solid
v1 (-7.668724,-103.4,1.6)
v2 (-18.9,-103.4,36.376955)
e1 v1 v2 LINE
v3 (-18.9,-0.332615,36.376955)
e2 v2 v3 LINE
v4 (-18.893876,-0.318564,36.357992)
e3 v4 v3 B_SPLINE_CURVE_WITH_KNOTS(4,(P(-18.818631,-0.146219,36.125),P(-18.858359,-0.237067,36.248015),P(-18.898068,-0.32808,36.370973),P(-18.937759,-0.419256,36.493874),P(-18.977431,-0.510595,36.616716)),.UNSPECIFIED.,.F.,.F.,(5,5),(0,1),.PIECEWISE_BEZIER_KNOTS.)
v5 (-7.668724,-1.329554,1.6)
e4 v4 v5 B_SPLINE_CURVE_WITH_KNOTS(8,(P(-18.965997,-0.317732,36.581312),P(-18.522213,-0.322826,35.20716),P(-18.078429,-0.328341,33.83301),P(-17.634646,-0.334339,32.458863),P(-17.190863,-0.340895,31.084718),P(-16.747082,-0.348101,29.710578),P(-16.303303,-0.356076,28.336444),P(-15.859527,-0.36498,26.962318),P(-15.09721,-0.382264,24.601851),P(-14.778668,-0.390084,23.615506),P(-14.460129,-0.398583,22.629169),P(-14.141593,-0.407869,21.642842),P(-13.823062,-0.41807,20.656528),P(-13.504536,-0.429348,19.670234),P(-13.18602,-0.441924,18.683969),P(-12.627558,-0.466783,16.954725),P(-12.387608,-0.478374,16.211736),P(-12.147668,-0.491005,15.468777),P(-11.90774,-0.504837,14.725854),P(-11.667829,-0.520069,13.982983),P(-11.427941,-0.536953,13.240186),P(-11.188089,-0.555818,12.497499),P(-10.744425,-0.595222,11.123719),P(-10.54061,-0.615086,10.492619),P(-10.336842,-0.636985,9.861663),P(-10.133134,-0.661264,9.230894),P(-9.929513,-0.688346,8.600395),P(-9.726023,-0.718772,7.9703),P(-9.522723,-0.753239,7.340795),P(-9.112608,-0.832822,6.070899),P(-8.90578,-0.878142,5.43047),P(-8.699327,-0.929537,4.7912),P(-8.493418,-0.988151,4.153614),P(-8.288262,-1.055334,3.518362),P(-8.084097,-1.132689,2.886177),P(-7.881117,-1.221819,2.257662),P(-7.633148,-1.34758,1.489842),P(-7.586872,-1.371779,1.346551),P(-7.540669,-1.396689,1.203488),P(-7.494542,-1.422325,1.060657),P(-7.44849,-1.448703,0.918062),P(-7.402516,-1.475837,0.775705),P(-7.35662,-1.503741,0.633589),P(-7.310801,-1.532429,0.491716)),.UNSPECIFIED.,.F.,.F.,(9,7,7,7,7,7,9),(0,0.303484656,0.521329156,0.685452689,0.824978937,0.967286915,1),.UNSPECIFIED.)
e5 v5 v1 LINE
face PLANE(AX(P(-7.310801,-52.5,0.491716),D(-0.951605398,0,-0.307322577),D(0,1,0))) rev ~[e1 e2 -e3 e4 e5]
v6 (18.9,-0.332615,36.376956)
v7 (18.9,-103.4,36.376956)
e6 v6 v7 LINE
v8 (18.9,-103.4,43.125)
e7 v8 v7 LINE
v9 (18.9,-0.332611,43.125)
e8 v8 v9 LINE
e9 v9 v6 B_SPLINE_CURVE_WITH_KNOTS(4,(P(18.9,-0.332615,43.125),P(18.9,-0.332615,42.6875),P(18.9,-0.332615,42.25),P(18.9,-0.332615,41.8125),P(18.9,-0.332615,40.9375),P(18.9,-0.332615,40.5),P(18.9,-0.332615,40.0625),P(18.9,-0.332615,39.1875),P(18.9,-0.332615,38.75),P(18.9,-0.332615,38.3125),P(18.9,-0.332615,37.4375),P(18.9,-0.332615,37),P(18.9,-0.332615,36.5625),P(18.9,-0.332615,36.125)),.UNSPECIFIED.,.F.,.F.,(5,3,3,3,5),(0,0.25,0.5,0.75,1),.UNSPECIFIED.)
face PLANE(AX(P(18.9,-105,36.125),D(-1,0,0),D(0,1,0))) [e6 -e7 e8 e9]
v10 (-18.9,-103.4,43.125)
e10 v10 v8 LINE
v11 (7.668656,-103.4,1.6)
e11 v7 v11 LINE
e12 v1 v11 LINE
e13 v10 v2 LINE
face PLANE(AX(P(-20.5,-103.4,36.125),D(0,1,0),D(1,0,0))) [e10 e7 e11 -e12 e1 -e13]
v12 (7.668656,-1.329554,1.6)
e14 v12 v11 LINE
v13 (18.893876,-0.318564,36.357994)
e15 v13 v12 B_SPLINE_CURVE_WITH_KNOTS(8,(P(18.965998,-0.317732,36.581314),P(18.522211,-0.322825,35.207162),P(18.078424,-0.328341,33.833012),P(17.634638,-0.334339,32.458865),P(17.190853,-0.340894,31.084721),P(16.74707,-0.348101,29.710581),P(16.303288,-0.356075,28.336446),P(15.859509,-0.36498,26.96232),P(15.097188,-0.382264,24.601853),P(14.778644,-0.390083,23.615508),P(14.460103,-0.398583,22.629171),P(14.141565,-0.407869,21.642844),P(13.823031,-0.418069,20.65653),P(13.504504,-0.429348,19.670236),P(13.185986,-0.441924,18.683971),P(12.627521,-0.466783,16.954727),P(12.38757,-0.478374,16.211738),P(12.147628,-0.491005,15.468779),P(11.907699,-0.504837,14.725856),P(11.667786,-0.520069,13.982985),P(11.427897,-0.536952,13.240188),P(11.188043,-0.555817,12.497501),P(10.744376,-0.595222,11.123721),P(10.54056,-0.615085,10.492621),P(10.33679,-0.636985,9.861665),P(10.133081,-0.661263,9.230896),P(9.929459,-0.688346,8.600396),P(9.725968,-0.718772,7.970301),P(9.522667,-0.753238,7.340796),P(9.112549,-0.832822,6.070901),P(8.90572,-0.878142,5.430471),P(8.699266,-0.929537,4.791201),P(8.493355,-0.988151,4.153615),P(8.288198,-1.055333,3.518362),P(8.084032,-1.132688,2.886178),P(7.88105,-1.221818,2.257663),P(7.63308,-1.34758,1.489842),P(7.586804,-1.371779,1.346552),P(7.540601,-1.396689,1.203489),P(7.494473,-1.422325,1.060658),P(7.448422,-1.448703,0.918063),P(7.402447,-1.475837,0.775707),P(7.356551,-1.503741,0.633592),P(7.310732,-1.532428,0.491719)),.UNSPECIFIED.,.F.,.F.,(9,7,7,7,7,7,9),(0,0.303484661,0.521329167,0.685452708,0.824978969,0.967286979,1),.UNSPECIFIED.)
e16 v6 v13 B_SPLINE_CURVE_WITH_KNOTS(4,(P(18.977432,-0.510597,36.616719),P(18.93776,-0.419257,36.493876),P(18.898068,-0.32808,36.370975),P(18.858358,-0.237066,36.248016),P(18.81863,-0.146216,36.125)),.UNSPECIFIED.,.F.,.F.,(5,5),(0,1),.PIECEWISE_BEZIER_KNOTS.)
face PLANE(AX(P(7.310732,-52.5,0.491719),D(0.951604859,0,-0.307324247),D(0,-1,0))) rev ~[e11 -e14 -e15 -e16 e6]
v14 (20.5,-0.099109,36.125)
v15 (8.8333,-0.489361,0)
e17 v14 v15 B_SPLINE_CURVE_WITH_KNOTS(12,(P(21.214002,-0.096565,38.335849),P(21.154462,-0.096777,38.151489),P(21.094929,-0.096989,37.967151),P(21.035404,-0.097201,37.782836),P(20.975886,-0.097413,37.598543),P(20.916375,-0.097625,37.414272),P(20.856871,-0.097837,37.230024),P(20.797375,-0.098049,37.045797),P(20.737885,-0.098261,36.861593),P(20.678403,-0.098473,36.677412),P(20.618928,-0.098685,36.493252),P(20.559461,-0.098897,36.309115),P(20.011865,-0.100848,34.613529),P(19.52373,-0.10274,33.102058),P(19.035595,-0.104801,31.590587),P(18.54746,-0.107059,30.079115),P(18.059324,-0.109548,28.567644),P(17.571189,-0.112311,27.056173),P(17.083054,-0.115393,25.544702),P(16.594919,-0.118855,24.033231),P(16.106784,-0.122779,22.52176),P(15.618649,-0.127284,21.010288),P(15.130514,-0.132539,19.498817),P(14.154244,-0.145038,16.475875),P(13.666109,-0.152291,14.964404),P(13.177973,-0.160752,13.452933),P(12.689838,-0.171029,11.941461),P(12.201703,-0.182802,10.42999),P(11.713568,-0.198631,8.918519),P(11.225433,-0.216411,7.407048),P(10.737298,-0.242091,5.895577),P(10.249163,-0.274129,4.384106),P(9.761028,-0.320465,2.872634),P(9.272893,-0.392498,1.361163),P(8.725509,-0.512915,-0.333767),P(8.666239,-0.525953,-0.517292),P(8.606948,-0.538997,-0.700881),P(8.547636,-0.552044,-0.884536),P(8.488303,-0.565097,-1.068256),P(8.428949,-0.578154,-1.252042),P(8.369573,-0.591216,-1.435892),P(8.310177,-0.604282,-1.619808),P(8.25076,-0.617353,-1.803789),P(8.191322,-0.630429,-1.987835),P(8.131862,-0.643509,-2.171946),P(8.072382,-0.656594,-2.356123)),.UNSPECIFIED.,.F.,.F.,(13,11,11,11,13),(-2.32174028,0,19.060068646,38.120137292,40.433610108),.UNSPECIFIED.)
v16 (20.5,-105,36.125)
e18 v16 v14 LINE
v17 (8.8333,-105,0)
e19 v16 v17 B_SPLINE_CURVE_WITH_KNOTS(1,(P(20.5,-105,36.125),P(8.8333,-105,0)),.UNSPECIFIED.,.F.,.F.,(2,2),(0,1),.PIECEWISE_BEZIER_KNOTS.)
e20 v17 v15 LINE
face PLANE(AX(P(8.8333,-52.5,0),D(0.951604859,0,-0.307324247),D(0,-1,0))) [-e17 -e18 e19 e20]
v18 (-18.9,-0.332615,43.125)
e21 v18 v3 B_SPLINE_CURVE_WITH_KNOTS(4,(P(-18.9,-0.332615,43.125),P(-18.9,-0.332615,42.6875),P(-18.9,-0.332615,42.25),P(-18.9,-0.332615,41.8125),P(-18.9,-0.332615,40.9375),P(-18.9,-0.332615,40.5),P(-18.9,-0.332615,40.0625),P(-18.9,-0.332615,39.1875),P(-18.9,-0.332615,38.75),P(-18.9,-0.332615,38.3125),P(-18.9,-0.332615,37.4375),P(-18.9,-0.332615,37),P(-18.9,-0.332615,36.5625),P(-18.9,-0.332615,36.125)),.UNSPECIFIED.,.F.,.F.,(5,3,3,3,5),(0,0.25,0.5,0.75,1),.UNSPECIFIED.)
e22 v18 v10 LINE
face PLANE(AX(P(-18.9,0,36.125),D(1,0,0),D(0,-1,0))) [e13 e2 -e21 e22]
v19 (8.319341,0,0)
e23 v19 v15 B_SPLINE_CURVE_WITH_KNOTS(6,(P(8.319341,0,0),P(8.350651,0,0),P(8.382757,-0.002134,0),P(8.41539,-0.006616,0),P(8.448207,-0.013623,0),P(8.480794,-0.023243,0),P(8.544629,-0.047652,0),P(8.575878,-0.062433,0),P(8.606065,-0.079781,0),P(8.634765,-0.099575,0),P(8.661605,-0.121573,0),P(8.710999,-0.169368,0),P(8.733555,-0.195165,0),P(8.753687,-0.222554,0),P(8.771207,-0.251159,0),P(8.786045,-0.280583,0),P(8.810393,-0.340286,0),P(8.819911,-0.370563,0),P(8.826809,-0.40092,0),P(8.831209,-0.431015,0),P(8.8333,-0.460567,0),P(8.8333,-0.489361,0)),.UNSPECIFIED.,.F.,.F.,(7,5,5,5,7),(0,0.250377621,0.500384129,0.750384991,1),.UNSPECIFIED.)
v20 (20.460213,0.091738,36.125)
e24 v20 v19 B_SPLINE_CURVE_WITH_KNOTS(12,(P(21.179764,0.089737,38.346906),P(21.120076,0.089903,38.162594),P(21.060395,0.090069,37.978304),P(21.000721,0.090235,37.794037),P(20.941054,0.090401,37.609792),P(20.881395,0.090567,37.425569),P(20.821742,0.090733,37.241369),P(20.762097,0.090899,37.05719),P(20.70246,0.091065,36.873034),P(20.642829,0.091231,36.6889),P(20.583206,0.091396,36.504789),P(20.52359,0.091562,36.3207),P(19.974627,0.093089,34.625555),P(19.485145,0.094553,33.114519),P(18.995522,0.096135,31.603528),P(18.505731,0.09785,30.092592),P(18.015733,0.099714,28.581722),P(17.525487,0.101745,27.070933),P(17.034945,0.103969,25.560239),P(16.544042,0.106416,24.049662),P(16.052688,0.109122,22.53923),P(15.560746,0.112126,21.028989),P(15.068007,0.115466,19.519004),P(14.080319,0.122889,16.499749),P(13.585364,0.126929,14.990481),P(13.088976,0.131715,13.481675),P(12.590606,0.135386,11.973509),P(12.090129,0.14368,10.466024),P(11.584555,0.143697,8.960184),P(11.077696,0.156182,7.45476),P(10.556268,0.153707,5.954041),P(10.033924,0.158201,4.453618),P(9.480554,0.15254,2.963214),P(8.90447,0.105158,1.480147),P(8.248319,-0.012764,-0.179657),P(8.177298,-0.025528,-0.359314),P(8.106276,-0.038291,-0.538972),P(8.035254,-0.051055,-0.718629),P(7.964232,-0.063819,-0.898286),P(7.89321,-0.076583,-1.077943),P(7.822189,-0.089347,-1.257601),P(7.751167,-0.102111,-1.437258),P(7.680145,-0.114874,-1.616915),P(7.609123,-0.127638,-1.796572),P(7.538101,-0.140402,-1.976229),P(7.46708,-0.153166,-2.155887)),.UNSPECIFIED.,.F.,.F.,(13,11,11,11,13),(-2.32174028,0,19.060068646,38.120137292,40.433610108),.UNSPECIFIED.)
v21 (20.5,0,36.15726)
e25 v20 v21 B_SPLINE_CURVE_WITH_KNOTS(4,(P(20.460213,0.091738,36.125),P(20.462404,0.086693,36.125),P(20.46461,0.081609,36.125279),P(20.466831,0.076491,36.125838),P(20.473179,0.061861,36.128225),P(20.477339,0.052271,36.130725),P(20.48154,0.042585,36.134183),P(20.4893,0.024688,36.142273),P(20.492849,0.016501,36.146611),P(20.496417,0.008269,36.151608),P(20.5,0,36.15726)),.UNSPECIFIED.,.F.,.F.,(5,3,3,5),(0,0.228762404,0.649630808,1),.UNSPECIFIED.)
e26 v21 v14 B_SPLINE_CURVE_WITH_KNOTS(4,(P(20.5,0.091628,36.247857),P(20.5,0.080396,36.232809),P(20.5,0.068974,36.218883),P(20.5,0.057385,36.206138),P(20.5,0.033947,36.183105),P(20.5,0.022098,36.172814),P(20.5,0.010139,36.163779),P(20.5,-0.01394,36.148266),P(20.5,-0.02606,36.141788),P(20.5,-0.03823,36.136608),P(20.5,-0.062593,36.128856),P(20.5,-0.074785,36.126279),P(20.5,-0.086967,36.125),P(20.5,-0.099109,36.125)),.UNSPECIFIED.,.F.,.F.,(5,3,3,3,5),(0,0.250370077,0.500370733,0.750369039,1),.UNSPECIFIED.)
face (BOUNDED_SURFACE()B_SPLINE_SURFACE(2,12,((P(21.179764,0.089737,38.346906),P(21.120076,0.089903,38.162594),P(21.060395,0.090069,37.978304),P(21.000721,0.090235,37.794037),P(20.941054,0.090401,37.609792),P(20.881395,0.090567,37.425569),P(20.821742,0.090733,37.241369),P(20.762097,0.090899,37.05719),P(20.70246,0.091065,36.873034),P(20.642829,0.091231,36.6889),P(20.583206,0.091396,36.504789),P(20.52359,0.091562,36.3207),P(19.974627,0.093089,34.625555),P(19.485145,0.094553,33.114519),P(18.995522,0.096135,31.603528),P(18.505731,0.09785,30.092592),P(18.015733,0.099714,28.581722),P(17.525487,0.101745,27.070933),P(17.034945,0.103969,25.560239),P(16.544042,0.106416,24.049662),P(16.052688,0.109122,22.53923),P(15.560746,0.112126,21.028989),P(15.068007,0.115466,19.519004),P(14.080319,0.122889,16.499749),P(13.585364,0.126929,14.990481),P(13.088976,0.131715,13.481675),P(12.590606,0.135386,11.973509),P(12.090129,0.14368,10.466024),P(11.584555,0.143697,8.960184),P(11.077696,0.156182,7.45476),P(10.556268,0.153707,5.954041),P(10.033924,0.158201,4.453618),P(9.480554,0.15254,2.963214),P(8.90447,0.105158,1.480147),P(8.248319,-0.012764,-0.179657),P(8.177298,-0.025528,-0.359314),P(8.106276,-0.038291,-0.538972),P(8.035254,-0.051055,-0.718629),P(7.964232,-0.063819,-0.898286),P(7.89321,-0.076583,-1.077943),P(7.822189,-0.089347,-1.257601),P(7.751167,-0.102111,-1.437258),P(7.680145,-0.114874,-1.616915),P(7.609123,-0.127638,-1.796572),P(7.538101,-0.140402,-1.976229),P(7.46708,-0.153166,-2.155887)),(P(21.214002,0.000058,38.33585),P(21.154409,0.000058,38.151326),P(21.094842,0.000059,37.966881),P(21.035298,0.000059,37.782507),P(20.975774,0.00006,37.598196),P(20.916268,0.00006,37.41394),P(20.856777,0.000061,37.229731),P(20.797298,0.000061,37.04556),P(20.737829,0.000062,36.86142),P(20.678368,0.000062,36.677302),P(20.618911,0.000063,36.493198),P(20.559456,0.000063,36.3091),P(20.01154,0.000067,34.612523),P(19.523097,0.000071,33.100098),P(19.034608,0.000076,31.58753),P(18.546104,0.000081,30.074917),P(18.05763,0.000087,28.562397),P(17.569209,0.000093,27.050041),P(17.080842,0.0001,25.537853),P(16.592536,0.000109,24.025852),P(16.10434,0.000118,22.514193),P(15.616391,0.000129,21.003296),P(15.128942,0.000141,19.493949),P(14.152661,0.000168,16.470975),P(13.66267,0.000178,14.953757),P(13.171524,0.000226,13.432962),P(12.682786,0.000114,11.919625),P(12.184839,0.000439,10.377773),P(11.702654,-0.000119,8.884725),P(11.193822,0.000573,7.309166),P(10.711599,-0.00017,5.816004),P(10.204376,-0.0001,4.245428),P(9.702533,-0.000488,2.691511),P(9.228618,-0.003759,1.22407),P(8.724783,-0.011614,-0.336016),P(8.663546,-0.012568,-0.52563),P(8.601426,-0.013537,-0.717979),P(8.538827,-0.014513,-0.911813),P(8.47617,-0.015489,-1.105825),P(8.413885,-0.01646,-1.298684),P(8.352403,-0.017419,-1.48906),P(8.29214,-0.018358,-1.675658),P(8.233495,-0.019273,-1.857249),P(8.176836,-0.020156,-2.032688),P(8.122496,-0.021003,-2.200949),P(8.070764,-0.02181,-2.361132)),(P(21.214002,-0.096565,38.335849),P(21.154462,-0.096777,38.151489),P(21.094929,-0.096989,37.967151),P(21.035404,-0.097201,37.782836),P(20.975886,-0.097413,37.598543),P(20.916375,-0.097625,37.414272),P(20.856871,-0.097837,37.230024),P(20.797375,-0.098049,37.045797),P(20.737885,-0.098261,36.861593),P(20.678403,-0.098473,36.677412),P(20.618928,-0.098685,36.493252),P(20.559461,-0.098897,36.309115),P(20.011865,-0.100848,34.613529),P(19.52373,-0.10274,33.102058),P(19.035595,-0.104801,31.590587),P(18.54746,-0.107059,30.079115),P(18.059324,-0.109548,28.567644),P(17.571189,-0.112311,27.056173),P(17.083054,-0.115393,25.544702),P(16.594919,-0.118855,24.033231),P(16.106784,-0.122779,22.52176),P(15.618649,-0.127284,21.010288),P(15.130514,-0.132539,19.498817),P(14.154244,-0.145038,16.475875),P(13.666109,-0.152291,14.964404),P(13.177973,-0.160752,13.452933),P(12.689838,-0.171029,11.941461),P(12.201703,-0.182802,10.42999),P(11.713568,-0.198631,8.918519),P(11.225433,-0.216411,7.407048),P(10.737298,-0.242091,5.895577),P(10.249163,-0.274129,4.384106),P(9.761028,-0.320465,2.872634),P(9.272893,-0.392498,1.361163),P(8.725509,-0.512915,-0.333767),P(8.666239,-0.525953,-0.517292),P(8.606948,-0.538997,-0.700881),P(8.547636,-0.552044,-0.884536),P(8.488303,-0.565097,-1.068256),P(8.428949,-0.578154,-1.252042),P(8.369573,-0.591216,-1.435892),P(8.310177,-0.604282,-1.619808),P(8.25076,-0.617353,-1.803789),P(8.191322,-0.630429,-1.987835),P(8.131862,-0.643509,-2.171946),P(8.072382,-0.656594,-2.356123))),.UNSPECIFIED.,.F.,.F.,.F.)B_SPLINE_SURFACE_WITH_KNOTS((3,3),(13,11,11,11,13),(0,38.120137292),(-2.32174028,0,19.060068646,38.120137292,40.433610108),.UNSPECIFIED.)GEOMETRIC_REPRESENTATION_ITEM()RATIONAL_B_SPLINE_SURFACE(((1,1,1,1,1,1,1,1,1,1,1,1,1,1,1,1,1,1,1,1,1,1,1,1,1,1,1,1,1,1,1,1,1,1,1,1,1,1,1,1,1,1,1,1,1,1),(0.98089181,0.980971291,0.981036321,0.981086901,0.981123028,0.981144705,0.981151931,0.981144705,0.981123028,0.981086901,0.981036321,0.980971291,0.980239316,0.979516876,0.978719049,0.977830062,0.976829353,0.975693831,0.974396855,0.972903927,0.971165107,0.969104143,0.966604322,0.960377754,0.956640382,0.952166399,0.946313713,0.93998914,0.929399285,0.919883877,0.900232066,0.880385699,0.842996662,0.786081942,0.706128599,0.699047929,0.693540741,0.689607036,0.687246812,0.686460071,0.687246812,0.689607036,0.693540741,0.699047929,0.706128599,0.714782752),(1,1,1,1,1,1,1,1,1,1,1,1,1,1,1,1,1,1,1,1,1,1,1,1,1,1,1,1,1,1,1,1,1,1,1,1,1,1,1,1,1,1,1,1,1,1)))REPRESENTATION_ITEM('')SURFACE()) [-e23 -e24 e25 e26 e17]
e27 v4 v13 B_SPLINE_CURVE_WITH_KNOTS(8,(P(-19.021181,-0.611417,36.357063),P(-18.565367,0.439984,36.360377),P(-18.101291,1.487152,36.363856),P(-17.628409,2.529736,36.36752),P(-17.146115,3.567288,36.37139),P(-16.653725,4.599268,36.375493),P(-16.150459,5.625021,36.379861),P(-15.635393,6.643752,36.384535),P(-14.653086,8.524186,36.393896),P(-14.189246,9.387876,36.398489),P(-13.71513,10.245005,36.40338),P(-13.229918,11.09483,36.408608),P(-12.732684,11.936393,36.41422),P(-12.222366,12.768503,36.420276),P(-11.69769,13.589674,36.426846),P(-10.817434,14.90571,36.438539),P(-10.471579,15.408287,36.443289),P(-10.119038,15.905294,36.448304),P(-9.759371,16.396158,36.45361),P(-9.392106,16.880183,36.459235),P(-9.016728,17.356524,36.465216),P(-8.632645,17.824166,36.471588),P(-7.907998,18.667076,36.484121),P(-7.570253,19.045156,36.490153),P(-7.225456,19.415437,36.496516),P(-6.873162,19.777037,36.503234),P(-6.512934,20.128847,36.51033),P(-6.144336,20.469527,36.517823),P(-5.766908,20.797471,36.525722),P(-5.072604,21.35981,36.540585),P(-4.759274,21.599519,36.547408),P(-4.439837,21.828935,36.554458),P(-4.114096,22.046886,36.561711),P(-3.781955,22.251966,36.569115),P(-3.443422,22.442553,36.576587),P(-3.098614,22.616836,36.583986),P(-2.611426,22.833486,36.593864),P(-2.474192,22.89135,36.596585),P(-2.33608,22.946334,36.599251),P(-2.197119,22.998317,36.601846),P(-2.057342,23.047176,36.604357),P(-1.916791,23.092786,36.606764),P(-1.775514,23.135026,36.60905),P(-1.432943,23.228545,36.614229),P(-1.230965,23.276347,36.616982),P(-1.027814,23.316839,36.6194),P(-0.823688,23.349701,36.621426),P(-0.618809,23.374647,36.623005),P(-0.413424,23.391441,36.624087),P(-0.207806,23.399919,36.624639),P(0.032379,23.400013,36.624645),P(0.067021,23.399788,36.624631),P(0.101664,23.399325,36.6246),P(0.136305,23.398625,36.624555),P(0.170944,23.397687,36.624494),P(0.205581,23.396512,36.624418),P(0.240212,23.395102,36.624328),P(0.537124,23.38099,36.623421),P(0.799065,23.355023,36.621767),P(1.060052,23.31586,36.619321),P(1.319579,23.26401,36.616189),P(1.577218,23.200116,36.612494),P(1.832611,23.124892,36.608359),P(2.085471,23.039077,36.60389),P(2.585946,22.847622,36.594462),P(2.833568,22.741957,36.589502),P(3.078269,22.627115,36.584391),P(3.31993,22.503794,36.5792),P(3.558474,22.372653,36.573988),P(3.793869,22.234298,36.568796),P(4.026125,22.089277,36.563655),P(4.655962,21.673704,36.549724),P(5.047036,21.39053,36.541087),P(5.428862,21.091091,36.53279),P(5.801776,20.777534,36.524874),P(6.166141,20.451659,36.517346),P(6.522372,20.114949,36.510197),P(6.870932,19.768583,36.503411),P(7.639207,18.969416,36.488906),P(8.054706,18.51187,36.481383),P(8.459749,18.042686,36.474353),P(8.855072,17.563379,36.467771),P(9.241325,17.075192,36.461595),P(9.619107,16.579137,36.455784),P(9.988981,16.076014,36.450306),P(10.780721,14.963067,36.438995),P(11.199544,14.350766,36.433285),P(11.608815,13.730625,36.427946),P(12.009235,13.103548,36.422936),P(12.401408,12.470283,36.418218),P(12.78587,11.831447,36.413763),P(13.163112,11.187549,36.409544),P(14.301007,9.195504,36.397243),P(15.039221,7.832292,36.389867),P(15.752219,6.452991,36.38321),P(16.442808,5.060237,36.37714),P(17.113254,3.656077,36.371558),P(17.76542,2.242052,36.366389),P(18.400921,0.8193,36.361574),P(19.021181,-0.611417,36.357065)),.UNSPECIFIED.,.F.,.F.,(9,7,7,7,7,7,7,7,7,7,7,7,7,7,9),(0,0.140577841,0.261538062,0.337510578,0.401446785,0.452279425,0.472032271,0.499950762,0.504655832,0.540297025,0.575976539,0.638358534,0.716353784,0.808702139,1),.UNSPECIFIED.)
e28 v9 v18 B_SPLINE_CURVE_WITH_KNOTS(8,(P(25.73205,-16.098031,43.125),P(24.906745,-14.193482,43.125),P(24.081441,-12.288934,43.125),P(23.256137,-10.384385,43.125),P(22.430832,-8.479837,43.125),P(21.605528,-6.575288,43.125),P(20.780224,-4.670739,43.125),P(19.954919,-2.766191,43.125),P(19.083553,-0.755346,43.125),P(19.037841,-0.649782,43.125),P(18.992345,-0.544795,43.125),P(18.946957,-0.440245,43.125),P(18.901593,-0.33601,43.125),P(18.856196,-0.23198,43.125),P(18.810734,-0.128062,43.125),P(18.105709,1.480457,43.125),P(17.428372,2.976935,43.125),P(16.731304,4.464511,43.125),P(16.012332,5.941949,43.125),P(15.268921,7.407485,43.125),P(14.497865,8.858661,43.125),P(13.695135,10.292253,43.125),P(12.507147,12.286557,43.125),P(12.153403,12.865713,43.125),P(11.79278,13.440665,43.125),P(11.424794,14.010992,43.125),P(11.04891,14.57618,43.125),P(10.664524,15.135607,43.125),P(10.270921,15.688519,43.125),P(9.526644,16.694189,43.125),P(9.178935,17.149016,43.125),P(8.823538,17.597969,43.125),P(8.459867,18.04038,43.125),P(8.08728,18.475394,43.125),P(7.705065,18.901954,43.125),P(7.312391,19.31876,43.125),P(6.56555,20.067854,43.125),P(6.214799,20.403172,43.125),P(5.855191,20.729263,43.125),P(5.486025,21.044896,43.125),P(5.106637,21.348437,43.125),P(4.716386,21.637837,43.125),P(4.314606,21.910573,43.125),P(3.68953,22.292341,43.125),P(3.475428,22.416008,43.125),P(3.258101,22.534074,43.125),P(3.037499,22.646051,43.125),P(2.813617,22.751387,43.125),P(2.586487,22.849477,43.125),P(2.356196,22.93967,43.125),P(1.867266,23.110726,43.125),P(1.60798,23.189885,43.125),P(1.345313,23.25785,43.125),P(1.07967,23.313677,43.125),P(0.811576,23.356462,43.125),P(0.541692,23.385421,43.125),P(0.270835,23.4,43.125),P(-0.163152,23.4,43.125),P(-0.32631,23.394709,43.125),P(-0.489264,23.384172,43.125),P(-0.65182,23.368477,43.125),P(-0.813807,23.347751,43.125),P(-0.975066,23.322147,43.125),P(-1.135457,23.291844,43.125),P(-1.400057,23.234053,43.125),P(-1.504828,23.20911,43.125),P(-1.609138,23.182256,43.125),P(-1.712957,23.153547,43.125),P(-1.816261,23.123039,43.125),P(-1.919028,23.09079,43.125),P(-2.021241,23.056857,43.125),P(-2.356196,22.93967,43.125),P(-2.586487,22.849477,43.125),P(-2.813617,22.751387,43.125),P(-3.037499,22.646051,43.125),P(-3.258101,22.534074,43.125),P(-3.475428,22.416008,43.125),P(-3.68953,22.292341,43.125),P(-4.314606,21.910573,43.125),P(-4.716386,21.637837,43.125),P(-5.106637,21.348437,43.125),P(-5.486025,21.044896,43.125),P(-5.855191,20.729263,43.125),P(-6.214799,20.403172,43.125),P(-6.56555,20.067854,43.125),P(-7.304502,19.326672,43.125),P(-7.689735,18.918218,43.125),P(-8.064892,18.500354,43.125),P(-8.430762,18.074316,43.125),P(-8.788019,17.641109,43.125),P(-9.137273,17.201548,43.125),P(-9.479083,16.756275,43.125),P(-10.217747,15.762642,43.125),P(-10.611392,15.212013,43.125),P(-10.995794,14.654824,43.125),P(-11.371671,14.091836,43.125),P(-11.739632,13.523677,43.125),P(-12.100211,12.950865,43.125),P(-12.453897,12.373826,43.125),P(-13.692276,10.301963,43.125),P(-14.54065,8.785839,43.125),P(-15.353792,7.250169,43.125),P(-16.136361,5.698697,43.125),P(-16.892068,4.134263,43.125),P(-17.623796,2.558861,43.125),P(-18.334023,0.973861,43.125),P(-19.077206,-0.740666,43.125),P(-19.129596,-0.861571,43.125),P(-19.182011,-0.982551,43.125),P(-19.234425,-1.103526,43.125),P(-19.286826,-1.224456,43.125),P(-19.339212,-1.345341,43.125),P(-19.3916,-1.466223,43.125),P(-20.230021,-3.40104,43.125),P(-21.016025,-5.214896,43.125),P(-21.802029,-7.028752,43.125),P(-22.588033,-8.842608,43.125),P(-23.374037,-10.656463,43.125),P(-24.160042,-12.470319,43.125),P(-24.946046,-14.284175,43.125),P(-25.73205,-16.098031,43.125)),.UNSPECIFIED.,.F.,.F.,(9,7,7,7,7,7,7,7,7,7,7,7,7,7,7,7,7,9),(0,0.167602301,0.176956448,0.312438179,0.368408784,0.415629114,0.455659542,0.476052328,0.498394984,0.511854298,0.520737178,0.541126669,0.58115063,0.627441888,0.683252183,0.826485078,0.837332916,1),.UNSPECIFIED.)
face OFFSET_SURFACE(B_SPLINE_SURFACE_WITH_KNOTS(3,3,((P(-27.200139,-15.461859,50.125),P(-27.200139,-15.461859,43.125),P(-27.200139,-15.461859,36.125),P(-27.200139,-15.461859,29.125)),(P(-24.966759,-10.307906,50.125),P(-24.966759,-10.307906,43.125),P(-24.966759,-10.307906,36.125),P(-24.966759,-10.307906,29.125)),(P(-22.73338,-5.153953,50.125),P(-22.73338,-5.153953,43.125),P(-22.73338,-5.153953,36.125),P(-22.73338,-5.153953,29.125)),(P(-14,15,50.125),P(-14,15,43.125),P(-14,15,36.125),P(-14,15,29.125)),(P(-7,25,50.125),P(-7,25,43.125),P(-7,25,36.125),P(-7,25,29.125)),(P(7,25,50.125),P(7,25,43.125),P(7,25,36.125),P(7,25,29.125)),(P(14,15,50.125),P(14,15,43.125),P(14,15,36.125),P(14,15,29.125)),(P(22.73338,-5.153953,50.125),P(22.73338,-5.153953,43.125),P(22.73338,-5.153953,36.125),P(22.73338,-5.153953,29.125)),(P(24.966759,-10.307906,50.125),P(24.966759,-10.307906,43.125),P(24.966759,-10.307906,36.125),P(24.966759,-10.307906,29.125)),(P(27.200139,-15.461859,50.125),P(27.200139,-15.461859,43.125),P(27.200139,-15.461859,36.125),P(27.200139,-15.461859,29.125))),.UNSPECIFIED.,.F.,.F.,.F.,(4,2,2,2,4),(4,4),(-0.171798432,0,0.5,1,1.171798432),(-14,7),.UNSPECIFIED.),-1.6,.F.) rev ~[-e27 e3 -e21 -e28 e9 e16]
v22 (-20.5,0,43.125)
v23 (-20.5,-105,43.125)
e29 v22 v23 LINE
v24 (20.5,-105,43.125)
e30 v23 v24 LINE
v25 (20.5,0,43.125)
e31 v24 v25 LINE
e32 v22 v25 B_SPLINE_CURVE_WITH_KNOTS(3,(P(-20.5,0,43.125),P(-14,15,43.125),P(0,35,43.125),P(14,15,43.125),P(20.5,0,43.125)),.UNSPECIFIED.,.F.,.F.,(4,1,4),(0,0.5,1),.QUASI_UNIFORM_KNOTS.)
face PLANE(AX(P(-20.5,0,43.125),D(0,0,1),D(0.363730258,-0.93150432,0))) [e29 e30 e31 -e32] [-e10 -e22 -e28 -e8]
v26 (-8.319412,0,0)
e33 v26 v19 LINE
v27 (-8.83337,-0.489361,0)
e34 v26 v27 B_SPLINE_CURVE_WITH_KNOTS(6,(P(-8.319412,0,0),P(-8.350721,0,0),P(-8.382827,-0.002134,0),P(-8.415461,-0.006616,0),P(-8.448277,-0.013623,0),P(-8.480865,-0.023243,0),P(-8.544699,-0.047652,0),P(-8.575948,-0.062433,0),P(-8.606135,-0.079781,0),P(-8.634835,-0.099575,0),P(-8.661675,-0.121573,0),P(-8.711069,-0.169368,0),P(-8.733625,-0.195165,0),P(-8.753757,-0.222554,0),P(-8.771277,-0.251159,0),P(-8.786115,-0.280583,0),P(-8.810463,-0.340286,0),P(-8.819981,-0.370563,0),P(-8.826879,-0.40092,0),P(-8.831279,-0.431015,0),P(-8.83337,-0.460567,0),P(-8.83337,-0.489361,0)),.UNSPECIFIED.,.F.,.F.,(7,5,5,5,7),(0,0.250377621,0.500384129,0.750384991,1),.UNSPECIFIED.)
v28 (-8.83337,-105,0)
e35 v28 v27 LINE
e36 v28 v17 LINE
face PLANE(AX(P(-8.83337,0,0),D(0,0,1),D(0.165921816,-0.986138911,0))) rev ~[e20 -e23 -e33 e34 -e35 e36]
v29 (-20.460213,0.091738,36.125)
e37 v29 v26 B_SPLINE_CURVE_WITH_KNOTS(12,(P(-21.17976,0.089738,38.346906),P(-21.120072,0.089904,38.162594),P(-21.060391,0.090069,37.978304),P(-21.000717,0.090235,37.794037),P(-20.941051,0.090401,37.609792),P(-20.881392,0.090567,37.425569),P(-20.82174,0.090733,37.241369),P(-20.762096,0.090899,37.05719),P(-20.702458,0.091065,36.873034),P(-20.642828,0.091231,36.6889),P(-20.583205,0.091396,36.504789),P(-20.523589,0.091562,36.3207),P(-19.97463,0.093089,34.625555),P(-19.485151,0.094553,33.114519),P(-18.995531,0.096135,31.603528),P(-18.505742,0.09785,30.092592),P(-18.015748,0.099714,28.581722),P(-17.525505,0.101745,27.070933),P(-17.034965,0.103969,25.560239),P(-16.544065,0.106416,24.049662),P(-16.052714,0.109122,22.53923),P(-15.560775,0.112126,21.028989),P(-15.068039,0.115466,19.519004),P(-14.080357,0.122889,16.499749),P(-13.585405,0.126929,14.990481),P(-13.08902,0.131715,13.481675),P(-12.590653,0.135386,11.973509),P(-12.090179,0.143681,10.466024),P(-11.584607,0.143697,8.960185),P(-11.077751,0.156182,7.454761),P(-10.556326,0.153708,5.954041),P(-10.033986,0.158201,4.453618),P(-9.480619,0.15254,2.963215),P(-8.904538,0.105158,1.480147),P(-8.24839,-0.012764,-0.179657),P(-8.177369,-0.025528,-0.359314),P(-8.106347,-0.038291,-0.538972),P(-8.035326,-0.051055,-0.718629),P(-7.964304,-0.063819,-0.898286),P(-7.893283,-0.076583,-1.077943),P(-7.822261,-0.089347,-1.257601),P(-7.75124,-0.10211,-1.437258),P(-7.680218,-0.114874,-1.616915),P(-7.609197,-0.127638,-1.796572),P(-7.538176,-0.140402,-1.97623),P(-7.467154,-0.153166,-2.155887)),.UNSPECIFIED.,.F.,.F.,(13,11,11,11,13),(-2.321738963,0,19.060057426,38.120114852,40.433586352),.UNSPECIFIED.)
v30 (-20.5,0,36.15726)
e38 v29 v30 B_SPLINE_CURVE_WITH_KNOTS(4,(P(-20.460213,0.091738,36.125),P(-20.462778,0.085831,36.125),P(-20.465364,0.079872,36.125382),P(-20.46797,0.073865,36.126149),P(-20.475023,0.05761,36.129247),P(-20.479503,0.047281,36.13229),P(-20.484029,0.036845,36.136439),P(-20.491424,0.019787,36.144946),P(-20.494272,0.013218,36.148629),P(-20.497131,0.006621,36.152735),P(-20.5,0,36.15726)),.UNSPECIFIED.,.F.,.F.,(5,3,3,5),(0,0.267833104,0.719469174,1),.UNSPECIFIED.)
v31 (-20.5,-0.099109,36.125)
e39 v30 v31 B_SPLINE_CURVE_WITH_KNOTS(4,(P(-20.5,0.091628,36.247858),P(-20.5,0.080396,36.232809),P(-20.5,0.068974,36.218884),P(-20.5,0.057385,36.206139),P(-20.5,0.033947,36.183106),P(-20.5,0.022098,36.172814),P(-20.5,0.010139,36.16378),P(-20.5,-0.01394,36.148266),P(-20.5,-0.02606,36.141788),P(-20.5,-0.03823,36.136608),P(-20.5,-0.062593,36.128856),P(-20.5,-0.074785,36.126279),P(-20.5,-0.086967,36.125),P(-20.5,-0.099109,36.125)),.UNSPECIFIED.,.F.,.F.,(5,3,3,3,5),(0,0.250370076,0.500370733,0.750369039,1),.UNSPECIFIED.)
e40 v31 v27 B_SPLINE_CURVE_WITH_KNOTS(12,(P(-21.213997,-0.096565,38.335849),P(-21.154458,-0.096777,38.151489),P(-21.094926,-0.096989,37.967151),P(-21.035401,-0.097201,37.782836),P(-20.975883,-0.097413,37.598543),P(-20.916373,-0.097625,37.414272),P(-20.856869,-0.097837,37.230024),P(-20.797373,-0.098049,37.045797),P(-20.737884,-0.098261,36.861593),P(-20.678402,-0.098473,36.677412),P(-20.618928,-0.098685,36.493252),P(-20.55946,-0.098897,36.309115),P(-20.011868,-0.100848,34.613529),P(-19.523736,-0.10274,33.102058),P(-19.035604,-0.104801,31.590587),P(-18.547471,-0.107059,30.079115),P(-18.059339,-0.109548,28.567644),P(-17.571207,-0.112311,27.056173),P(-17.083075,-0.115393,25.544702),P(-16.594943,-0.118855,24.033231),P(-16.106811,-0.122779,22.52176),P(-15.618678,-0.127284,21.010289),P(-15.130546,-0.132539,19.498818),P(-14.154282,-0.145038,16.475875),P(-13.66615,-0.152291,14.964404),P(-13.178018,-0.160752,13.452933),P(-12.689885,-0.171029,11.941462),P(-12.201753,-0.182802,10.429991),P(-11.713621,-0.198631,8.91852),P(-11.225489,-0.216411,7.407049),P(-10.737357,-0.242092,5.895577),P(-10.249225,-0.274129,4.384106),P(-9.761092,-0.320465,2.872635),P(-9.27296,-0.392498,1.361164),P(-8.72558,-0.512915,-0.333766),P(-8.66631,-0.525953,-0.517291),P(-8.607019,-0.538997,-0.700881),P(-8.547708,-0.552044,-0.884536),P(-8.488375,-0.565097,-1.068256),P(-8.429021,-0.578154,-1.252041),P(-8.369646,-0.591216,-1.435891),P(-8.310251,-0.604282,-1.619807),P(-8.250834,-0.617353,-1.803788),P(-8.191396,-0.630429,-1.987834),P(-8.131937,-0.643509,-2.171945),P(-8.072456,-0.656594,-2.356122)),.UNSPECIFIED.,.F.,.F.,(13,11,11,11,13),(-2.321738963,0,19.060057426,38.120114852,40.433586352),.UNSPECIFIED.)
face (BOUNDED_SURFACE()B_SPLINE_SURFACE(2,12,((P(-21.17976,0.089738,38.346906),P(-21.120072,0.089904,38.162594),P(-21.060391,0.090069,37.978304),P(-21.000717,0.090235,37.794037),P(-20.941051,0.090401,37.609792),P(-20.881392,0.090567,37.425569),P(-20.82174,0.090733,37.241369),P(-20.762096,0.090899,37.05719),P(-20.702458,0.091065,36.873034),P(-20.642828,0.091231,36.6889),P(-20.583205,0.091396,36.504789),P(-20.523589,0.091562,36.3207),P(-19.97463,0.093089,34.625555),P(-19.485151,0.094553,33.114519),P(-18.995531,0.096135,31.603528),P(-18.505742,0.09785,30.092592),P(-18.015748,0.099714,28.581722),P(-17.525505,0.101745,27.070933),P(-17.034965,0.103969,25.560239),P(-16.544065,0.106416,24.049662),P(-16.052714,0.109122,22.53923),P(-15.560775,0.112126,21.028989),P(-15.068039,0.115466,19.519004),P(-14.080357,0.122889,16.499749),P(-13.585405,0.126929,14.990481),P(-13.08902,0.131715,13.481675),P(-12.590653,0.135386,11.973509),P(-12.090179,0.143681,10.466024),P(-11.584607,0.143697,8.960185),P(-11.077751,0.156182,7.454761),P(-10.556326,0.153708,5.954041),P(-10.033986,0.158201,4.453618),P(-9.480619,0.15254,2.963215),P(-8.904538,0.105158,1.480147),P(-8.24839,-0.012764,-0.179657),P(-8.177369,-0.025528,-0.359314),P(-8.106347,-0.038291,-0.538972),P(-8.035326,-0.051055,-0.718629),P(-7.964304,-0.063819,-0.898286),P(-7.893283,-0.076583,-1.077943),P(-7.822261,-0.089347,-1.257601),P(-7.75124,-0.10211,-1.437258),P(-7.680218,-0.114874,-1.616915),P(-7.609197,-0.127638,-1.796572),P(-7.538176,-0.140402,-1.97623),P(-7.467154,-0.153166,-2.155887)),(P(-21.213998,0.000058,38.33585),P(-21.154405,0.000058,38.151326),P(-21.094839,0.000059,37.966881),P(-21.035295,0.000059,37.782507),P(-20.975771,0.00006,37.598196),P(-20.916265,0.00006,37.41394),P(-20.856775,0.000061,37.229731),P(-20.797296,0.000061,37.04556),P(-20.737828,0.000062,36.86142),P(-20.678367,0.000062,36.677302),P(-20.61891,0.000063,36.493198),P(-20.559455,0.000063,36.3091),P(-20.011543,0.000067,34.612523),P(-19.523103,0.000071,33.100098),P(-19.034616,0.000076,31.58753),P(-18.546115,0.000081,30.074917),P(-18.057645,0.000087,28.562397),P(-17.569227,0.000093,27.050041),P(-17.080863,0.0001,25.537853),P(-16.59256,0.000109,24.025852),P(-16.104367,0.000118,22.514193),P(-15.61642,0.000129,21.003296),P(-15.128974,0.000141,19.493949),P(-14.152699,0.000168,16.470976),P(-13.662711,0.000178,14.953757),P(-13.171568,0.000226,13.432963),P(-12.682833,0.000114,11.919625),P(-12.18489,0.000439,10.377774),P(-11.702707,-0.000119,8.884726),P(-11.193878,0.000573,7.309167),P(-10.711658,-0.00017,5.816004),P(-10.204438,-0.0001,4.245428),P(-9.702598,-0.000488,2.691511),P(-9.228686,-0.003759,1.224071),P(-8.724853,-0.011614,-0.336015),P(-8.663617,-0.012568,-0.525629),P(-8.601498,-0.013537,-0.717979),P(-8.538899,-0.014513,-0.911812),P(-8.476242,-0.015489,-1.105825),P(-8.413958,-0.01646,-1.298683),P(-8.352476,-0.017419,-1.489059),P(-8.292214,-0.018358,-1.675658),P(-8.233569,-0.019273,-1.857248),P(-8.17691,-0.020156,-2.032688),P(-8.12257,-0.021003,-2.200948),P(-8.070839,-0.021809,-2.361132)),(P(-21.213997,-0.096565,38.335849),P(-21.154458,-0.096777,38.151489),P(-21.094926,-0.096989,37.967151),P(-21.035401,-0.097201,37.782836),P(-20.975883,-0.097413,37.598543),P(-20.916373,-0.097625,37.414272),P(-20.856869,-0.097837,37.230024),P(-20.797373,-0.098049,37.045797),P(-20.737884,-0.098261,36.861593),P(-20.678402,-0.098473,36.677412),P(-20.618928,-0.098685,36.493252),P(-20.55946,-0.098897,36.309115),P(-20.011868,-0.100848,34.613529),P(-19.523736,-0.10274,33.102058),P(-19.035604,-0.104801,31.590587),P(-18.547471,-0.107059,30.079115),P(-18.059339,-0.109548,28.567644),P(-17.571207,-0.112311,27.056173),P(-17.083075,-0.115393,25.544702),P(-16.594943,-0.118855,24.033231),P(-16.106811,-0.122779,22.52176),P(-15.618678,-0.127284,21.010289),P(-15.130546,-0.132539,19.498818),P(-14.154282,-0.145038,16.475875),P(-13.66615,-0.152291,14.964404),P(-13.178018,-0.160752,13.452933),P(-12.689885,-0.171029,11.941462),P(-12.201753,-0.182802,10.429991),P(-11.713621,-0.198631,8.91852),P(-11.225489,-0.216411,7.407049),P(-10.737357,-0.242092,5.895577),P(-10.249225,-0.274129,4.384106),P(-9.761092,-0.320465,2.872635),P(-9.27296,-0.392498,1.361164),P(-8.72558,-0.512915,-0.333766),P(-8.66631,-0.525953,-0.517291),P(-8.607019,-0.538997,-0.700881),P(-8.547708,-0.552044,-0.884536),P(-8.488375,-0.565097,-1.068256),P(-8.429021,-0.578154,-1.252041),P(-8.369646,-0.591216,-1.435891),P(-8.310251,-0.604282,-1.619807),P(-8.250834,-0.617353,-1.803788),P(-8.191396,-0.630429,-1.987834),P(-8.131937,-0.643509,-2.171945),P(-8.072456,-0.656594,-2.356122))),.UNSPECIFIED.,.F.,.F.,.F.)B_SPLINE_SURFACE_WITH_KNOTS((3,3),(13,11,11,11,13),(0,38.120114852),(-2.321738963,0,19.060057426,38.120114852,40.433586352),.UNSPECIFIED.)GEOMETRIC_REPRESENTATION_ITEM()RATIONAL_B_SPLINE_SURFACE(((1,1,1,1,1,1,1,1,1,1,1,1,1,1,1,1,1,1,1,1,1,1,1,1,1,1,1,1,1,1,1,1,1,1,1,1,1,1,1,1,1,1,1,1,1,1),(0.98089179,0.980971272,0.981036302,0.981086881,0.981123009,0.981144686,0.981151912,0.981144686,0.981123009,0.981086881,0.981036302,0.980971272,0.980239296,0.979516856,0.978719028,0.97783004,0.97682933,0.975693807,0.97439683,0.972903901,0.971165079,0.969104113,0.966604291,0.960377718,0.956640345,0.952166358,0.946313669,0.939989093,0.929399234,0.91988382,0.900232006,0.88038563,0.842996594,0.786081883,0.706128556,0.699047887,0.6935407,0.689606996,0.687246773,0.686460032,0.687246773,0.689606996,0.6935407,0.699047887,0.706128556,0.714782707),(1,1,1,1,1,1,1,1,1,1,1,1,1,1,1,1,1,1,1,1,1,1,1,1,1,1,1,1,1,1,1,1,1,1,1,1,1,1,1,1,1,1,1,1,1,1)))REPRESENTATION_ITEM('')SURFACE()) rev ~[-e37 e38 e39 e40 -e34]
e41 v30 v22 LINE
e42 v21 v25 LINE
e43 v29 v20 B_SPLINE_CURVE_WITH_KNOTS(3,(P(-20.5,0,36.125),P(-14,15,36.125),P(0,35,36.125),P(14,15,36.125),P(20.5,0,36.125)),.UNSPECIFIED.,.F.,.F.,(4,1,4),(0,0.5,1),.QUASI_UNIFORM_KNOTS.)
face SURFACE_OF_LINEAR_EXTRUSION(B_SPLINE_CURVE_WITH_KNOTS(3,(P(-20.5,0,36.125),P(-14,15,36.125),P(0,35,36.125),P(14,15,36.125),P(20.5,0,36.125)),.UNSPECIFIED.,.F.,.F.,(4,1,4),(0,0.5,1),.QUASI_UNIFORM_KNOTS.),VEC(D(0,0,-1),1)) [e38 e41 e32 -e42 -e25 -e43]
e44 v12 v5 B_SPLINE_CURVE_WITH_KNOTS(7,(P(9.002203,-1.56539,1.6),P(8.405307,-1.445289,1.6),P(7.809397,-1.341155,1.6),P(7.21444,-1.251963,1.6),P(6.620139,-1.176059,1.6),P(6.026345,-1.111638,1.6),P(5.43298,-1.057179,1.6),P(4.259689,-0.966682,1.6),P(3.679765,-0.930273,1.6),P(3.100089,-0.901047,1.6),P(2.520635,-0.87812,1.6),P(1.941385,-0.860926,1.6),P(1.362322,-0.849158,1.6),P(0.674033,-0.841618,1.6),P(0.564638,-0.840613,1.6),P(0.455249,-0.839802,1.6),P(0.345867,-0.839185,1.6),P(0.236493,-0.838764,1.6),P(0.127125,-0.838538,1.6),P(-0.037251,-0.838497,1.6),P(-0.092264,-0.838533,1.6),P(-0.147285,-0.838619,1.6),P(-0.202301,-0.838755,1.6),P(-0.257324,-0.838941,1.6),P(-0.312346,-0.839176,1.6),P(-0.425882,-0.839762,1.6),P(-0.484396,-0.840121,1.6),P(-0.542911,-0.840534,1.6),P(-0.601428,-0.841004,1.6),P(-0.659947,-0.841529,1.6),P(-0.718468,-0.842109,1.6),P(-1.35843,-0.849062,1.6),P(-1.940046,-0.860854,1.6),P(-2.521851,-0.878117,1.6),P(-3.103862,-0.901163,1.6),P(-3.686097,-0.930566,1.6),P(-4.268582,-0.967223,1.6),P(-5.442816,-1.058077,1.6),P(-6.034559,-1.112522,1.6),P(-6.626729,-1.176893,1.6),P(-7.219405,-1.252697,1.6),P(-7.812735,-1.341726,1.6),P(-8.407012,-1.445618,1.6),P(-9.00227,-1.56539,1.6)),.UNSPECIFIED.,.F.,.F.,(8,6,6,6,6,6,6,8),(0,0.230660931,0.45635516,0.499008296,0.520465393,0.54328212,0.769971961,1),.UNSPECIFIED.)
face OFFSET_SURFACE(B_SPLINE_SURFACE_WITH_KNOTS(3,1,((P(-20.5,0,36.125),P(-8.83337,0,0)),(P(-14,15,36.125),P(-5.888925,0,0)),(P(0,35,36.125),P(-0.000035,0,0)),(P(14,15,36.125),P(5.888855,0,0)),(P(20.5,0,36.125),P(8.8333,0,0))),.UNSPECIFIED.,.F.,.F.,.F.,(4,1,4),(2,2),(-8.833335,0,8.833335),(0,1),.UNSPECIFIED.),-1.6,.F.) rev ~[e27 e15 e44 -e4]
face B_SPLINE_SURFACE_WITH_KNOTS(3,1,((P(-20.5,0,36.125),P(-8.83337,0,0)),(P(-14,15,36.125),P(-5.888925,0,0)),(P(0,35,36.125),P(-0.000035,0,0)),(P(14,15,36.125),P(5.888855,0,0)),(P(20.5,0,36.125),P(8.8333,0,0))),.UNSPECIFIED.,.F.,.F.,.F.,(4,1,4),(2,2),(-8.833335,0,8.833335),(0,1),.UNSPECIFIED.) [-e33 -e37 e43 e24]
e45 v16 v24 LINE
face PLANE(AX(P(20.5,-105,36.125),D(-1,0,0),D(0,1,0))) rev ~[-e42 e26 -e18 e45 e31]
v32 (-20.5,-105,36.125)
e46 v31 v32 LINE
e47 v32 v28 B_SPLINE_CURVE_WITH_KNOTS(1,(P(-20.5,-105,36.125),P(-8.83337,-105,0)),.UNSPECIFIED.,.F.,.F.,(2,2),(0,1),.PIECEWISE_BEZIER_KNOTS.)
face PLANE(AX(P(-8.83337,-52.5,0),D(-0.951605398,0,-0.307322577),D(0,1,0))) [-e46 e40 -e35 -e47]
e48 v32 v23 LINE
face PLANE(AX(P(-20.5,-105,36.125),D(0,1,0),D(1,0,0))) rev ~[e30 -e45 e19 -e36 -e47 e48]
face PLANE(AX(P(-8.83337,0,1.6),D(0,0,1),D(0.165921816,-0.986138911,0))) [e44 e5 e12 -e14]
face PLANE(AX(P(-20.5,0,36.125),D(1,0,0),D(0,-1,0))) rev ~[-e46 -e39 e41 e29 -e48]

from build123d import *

# Parameters (mm, degrees)
F2_W     = 17.66667
F2_H     = 105
F4_DEPTH = 7
F5_T     = -1.6
F6_R     = 0.5


with BuildPart() as f3:
    # F1 (on offset) → F3 section 0
    with BuildSketch(Plane.XY.offset(36.125)):
        with BuildLine():
            add(Edge.make_bspline(
                [(-20.5, 0), (-14, 15), (0, 35), (14, 15), (20.5, 0)],
                knots=[0, 0, 0, 0, 0.5, 1, 1, 1, 1], degree=3))
            Line((-20.5, 0), (-20.5, -105))
            Line((-20.5, -105), (20.5, -105))
            Line((20.5, -105), (20.5, 0))
        make_face()
    # F2 (on Top) → F3 section 1
    with BuildSketch(Plane.XY):
        with Locations((-3.5e-05, -52.5)):
            Rectangle(F2_W, F2_H)
    loft()

    # F4 (add): a face of the model
    f4_faces = [f3.faces().sort_by_distance(p)[0] for p in [
        (4.4104e-06, -44.0610349969, 36.125),
    ]]
    extrude(f4_faces, amount=F4_DEPTH)

    # F5
    f5_openings = [f3.faces().sort_by_distance(p)[0] for p in [
        (4e-06, -44.061035, 43.125),
    ]]
    offset(amount=F5_T, openings=f5_openings)

    # F6
    f6_edges = [f3.edges().sort_by_distance(p)[0] for p in [
        (14.66665, 0, 18.0625),
        (-14.666685, 0, 18.0625),
    ]]
    fillet(f6_edges, radius=F6_R)


solid = f3.part
